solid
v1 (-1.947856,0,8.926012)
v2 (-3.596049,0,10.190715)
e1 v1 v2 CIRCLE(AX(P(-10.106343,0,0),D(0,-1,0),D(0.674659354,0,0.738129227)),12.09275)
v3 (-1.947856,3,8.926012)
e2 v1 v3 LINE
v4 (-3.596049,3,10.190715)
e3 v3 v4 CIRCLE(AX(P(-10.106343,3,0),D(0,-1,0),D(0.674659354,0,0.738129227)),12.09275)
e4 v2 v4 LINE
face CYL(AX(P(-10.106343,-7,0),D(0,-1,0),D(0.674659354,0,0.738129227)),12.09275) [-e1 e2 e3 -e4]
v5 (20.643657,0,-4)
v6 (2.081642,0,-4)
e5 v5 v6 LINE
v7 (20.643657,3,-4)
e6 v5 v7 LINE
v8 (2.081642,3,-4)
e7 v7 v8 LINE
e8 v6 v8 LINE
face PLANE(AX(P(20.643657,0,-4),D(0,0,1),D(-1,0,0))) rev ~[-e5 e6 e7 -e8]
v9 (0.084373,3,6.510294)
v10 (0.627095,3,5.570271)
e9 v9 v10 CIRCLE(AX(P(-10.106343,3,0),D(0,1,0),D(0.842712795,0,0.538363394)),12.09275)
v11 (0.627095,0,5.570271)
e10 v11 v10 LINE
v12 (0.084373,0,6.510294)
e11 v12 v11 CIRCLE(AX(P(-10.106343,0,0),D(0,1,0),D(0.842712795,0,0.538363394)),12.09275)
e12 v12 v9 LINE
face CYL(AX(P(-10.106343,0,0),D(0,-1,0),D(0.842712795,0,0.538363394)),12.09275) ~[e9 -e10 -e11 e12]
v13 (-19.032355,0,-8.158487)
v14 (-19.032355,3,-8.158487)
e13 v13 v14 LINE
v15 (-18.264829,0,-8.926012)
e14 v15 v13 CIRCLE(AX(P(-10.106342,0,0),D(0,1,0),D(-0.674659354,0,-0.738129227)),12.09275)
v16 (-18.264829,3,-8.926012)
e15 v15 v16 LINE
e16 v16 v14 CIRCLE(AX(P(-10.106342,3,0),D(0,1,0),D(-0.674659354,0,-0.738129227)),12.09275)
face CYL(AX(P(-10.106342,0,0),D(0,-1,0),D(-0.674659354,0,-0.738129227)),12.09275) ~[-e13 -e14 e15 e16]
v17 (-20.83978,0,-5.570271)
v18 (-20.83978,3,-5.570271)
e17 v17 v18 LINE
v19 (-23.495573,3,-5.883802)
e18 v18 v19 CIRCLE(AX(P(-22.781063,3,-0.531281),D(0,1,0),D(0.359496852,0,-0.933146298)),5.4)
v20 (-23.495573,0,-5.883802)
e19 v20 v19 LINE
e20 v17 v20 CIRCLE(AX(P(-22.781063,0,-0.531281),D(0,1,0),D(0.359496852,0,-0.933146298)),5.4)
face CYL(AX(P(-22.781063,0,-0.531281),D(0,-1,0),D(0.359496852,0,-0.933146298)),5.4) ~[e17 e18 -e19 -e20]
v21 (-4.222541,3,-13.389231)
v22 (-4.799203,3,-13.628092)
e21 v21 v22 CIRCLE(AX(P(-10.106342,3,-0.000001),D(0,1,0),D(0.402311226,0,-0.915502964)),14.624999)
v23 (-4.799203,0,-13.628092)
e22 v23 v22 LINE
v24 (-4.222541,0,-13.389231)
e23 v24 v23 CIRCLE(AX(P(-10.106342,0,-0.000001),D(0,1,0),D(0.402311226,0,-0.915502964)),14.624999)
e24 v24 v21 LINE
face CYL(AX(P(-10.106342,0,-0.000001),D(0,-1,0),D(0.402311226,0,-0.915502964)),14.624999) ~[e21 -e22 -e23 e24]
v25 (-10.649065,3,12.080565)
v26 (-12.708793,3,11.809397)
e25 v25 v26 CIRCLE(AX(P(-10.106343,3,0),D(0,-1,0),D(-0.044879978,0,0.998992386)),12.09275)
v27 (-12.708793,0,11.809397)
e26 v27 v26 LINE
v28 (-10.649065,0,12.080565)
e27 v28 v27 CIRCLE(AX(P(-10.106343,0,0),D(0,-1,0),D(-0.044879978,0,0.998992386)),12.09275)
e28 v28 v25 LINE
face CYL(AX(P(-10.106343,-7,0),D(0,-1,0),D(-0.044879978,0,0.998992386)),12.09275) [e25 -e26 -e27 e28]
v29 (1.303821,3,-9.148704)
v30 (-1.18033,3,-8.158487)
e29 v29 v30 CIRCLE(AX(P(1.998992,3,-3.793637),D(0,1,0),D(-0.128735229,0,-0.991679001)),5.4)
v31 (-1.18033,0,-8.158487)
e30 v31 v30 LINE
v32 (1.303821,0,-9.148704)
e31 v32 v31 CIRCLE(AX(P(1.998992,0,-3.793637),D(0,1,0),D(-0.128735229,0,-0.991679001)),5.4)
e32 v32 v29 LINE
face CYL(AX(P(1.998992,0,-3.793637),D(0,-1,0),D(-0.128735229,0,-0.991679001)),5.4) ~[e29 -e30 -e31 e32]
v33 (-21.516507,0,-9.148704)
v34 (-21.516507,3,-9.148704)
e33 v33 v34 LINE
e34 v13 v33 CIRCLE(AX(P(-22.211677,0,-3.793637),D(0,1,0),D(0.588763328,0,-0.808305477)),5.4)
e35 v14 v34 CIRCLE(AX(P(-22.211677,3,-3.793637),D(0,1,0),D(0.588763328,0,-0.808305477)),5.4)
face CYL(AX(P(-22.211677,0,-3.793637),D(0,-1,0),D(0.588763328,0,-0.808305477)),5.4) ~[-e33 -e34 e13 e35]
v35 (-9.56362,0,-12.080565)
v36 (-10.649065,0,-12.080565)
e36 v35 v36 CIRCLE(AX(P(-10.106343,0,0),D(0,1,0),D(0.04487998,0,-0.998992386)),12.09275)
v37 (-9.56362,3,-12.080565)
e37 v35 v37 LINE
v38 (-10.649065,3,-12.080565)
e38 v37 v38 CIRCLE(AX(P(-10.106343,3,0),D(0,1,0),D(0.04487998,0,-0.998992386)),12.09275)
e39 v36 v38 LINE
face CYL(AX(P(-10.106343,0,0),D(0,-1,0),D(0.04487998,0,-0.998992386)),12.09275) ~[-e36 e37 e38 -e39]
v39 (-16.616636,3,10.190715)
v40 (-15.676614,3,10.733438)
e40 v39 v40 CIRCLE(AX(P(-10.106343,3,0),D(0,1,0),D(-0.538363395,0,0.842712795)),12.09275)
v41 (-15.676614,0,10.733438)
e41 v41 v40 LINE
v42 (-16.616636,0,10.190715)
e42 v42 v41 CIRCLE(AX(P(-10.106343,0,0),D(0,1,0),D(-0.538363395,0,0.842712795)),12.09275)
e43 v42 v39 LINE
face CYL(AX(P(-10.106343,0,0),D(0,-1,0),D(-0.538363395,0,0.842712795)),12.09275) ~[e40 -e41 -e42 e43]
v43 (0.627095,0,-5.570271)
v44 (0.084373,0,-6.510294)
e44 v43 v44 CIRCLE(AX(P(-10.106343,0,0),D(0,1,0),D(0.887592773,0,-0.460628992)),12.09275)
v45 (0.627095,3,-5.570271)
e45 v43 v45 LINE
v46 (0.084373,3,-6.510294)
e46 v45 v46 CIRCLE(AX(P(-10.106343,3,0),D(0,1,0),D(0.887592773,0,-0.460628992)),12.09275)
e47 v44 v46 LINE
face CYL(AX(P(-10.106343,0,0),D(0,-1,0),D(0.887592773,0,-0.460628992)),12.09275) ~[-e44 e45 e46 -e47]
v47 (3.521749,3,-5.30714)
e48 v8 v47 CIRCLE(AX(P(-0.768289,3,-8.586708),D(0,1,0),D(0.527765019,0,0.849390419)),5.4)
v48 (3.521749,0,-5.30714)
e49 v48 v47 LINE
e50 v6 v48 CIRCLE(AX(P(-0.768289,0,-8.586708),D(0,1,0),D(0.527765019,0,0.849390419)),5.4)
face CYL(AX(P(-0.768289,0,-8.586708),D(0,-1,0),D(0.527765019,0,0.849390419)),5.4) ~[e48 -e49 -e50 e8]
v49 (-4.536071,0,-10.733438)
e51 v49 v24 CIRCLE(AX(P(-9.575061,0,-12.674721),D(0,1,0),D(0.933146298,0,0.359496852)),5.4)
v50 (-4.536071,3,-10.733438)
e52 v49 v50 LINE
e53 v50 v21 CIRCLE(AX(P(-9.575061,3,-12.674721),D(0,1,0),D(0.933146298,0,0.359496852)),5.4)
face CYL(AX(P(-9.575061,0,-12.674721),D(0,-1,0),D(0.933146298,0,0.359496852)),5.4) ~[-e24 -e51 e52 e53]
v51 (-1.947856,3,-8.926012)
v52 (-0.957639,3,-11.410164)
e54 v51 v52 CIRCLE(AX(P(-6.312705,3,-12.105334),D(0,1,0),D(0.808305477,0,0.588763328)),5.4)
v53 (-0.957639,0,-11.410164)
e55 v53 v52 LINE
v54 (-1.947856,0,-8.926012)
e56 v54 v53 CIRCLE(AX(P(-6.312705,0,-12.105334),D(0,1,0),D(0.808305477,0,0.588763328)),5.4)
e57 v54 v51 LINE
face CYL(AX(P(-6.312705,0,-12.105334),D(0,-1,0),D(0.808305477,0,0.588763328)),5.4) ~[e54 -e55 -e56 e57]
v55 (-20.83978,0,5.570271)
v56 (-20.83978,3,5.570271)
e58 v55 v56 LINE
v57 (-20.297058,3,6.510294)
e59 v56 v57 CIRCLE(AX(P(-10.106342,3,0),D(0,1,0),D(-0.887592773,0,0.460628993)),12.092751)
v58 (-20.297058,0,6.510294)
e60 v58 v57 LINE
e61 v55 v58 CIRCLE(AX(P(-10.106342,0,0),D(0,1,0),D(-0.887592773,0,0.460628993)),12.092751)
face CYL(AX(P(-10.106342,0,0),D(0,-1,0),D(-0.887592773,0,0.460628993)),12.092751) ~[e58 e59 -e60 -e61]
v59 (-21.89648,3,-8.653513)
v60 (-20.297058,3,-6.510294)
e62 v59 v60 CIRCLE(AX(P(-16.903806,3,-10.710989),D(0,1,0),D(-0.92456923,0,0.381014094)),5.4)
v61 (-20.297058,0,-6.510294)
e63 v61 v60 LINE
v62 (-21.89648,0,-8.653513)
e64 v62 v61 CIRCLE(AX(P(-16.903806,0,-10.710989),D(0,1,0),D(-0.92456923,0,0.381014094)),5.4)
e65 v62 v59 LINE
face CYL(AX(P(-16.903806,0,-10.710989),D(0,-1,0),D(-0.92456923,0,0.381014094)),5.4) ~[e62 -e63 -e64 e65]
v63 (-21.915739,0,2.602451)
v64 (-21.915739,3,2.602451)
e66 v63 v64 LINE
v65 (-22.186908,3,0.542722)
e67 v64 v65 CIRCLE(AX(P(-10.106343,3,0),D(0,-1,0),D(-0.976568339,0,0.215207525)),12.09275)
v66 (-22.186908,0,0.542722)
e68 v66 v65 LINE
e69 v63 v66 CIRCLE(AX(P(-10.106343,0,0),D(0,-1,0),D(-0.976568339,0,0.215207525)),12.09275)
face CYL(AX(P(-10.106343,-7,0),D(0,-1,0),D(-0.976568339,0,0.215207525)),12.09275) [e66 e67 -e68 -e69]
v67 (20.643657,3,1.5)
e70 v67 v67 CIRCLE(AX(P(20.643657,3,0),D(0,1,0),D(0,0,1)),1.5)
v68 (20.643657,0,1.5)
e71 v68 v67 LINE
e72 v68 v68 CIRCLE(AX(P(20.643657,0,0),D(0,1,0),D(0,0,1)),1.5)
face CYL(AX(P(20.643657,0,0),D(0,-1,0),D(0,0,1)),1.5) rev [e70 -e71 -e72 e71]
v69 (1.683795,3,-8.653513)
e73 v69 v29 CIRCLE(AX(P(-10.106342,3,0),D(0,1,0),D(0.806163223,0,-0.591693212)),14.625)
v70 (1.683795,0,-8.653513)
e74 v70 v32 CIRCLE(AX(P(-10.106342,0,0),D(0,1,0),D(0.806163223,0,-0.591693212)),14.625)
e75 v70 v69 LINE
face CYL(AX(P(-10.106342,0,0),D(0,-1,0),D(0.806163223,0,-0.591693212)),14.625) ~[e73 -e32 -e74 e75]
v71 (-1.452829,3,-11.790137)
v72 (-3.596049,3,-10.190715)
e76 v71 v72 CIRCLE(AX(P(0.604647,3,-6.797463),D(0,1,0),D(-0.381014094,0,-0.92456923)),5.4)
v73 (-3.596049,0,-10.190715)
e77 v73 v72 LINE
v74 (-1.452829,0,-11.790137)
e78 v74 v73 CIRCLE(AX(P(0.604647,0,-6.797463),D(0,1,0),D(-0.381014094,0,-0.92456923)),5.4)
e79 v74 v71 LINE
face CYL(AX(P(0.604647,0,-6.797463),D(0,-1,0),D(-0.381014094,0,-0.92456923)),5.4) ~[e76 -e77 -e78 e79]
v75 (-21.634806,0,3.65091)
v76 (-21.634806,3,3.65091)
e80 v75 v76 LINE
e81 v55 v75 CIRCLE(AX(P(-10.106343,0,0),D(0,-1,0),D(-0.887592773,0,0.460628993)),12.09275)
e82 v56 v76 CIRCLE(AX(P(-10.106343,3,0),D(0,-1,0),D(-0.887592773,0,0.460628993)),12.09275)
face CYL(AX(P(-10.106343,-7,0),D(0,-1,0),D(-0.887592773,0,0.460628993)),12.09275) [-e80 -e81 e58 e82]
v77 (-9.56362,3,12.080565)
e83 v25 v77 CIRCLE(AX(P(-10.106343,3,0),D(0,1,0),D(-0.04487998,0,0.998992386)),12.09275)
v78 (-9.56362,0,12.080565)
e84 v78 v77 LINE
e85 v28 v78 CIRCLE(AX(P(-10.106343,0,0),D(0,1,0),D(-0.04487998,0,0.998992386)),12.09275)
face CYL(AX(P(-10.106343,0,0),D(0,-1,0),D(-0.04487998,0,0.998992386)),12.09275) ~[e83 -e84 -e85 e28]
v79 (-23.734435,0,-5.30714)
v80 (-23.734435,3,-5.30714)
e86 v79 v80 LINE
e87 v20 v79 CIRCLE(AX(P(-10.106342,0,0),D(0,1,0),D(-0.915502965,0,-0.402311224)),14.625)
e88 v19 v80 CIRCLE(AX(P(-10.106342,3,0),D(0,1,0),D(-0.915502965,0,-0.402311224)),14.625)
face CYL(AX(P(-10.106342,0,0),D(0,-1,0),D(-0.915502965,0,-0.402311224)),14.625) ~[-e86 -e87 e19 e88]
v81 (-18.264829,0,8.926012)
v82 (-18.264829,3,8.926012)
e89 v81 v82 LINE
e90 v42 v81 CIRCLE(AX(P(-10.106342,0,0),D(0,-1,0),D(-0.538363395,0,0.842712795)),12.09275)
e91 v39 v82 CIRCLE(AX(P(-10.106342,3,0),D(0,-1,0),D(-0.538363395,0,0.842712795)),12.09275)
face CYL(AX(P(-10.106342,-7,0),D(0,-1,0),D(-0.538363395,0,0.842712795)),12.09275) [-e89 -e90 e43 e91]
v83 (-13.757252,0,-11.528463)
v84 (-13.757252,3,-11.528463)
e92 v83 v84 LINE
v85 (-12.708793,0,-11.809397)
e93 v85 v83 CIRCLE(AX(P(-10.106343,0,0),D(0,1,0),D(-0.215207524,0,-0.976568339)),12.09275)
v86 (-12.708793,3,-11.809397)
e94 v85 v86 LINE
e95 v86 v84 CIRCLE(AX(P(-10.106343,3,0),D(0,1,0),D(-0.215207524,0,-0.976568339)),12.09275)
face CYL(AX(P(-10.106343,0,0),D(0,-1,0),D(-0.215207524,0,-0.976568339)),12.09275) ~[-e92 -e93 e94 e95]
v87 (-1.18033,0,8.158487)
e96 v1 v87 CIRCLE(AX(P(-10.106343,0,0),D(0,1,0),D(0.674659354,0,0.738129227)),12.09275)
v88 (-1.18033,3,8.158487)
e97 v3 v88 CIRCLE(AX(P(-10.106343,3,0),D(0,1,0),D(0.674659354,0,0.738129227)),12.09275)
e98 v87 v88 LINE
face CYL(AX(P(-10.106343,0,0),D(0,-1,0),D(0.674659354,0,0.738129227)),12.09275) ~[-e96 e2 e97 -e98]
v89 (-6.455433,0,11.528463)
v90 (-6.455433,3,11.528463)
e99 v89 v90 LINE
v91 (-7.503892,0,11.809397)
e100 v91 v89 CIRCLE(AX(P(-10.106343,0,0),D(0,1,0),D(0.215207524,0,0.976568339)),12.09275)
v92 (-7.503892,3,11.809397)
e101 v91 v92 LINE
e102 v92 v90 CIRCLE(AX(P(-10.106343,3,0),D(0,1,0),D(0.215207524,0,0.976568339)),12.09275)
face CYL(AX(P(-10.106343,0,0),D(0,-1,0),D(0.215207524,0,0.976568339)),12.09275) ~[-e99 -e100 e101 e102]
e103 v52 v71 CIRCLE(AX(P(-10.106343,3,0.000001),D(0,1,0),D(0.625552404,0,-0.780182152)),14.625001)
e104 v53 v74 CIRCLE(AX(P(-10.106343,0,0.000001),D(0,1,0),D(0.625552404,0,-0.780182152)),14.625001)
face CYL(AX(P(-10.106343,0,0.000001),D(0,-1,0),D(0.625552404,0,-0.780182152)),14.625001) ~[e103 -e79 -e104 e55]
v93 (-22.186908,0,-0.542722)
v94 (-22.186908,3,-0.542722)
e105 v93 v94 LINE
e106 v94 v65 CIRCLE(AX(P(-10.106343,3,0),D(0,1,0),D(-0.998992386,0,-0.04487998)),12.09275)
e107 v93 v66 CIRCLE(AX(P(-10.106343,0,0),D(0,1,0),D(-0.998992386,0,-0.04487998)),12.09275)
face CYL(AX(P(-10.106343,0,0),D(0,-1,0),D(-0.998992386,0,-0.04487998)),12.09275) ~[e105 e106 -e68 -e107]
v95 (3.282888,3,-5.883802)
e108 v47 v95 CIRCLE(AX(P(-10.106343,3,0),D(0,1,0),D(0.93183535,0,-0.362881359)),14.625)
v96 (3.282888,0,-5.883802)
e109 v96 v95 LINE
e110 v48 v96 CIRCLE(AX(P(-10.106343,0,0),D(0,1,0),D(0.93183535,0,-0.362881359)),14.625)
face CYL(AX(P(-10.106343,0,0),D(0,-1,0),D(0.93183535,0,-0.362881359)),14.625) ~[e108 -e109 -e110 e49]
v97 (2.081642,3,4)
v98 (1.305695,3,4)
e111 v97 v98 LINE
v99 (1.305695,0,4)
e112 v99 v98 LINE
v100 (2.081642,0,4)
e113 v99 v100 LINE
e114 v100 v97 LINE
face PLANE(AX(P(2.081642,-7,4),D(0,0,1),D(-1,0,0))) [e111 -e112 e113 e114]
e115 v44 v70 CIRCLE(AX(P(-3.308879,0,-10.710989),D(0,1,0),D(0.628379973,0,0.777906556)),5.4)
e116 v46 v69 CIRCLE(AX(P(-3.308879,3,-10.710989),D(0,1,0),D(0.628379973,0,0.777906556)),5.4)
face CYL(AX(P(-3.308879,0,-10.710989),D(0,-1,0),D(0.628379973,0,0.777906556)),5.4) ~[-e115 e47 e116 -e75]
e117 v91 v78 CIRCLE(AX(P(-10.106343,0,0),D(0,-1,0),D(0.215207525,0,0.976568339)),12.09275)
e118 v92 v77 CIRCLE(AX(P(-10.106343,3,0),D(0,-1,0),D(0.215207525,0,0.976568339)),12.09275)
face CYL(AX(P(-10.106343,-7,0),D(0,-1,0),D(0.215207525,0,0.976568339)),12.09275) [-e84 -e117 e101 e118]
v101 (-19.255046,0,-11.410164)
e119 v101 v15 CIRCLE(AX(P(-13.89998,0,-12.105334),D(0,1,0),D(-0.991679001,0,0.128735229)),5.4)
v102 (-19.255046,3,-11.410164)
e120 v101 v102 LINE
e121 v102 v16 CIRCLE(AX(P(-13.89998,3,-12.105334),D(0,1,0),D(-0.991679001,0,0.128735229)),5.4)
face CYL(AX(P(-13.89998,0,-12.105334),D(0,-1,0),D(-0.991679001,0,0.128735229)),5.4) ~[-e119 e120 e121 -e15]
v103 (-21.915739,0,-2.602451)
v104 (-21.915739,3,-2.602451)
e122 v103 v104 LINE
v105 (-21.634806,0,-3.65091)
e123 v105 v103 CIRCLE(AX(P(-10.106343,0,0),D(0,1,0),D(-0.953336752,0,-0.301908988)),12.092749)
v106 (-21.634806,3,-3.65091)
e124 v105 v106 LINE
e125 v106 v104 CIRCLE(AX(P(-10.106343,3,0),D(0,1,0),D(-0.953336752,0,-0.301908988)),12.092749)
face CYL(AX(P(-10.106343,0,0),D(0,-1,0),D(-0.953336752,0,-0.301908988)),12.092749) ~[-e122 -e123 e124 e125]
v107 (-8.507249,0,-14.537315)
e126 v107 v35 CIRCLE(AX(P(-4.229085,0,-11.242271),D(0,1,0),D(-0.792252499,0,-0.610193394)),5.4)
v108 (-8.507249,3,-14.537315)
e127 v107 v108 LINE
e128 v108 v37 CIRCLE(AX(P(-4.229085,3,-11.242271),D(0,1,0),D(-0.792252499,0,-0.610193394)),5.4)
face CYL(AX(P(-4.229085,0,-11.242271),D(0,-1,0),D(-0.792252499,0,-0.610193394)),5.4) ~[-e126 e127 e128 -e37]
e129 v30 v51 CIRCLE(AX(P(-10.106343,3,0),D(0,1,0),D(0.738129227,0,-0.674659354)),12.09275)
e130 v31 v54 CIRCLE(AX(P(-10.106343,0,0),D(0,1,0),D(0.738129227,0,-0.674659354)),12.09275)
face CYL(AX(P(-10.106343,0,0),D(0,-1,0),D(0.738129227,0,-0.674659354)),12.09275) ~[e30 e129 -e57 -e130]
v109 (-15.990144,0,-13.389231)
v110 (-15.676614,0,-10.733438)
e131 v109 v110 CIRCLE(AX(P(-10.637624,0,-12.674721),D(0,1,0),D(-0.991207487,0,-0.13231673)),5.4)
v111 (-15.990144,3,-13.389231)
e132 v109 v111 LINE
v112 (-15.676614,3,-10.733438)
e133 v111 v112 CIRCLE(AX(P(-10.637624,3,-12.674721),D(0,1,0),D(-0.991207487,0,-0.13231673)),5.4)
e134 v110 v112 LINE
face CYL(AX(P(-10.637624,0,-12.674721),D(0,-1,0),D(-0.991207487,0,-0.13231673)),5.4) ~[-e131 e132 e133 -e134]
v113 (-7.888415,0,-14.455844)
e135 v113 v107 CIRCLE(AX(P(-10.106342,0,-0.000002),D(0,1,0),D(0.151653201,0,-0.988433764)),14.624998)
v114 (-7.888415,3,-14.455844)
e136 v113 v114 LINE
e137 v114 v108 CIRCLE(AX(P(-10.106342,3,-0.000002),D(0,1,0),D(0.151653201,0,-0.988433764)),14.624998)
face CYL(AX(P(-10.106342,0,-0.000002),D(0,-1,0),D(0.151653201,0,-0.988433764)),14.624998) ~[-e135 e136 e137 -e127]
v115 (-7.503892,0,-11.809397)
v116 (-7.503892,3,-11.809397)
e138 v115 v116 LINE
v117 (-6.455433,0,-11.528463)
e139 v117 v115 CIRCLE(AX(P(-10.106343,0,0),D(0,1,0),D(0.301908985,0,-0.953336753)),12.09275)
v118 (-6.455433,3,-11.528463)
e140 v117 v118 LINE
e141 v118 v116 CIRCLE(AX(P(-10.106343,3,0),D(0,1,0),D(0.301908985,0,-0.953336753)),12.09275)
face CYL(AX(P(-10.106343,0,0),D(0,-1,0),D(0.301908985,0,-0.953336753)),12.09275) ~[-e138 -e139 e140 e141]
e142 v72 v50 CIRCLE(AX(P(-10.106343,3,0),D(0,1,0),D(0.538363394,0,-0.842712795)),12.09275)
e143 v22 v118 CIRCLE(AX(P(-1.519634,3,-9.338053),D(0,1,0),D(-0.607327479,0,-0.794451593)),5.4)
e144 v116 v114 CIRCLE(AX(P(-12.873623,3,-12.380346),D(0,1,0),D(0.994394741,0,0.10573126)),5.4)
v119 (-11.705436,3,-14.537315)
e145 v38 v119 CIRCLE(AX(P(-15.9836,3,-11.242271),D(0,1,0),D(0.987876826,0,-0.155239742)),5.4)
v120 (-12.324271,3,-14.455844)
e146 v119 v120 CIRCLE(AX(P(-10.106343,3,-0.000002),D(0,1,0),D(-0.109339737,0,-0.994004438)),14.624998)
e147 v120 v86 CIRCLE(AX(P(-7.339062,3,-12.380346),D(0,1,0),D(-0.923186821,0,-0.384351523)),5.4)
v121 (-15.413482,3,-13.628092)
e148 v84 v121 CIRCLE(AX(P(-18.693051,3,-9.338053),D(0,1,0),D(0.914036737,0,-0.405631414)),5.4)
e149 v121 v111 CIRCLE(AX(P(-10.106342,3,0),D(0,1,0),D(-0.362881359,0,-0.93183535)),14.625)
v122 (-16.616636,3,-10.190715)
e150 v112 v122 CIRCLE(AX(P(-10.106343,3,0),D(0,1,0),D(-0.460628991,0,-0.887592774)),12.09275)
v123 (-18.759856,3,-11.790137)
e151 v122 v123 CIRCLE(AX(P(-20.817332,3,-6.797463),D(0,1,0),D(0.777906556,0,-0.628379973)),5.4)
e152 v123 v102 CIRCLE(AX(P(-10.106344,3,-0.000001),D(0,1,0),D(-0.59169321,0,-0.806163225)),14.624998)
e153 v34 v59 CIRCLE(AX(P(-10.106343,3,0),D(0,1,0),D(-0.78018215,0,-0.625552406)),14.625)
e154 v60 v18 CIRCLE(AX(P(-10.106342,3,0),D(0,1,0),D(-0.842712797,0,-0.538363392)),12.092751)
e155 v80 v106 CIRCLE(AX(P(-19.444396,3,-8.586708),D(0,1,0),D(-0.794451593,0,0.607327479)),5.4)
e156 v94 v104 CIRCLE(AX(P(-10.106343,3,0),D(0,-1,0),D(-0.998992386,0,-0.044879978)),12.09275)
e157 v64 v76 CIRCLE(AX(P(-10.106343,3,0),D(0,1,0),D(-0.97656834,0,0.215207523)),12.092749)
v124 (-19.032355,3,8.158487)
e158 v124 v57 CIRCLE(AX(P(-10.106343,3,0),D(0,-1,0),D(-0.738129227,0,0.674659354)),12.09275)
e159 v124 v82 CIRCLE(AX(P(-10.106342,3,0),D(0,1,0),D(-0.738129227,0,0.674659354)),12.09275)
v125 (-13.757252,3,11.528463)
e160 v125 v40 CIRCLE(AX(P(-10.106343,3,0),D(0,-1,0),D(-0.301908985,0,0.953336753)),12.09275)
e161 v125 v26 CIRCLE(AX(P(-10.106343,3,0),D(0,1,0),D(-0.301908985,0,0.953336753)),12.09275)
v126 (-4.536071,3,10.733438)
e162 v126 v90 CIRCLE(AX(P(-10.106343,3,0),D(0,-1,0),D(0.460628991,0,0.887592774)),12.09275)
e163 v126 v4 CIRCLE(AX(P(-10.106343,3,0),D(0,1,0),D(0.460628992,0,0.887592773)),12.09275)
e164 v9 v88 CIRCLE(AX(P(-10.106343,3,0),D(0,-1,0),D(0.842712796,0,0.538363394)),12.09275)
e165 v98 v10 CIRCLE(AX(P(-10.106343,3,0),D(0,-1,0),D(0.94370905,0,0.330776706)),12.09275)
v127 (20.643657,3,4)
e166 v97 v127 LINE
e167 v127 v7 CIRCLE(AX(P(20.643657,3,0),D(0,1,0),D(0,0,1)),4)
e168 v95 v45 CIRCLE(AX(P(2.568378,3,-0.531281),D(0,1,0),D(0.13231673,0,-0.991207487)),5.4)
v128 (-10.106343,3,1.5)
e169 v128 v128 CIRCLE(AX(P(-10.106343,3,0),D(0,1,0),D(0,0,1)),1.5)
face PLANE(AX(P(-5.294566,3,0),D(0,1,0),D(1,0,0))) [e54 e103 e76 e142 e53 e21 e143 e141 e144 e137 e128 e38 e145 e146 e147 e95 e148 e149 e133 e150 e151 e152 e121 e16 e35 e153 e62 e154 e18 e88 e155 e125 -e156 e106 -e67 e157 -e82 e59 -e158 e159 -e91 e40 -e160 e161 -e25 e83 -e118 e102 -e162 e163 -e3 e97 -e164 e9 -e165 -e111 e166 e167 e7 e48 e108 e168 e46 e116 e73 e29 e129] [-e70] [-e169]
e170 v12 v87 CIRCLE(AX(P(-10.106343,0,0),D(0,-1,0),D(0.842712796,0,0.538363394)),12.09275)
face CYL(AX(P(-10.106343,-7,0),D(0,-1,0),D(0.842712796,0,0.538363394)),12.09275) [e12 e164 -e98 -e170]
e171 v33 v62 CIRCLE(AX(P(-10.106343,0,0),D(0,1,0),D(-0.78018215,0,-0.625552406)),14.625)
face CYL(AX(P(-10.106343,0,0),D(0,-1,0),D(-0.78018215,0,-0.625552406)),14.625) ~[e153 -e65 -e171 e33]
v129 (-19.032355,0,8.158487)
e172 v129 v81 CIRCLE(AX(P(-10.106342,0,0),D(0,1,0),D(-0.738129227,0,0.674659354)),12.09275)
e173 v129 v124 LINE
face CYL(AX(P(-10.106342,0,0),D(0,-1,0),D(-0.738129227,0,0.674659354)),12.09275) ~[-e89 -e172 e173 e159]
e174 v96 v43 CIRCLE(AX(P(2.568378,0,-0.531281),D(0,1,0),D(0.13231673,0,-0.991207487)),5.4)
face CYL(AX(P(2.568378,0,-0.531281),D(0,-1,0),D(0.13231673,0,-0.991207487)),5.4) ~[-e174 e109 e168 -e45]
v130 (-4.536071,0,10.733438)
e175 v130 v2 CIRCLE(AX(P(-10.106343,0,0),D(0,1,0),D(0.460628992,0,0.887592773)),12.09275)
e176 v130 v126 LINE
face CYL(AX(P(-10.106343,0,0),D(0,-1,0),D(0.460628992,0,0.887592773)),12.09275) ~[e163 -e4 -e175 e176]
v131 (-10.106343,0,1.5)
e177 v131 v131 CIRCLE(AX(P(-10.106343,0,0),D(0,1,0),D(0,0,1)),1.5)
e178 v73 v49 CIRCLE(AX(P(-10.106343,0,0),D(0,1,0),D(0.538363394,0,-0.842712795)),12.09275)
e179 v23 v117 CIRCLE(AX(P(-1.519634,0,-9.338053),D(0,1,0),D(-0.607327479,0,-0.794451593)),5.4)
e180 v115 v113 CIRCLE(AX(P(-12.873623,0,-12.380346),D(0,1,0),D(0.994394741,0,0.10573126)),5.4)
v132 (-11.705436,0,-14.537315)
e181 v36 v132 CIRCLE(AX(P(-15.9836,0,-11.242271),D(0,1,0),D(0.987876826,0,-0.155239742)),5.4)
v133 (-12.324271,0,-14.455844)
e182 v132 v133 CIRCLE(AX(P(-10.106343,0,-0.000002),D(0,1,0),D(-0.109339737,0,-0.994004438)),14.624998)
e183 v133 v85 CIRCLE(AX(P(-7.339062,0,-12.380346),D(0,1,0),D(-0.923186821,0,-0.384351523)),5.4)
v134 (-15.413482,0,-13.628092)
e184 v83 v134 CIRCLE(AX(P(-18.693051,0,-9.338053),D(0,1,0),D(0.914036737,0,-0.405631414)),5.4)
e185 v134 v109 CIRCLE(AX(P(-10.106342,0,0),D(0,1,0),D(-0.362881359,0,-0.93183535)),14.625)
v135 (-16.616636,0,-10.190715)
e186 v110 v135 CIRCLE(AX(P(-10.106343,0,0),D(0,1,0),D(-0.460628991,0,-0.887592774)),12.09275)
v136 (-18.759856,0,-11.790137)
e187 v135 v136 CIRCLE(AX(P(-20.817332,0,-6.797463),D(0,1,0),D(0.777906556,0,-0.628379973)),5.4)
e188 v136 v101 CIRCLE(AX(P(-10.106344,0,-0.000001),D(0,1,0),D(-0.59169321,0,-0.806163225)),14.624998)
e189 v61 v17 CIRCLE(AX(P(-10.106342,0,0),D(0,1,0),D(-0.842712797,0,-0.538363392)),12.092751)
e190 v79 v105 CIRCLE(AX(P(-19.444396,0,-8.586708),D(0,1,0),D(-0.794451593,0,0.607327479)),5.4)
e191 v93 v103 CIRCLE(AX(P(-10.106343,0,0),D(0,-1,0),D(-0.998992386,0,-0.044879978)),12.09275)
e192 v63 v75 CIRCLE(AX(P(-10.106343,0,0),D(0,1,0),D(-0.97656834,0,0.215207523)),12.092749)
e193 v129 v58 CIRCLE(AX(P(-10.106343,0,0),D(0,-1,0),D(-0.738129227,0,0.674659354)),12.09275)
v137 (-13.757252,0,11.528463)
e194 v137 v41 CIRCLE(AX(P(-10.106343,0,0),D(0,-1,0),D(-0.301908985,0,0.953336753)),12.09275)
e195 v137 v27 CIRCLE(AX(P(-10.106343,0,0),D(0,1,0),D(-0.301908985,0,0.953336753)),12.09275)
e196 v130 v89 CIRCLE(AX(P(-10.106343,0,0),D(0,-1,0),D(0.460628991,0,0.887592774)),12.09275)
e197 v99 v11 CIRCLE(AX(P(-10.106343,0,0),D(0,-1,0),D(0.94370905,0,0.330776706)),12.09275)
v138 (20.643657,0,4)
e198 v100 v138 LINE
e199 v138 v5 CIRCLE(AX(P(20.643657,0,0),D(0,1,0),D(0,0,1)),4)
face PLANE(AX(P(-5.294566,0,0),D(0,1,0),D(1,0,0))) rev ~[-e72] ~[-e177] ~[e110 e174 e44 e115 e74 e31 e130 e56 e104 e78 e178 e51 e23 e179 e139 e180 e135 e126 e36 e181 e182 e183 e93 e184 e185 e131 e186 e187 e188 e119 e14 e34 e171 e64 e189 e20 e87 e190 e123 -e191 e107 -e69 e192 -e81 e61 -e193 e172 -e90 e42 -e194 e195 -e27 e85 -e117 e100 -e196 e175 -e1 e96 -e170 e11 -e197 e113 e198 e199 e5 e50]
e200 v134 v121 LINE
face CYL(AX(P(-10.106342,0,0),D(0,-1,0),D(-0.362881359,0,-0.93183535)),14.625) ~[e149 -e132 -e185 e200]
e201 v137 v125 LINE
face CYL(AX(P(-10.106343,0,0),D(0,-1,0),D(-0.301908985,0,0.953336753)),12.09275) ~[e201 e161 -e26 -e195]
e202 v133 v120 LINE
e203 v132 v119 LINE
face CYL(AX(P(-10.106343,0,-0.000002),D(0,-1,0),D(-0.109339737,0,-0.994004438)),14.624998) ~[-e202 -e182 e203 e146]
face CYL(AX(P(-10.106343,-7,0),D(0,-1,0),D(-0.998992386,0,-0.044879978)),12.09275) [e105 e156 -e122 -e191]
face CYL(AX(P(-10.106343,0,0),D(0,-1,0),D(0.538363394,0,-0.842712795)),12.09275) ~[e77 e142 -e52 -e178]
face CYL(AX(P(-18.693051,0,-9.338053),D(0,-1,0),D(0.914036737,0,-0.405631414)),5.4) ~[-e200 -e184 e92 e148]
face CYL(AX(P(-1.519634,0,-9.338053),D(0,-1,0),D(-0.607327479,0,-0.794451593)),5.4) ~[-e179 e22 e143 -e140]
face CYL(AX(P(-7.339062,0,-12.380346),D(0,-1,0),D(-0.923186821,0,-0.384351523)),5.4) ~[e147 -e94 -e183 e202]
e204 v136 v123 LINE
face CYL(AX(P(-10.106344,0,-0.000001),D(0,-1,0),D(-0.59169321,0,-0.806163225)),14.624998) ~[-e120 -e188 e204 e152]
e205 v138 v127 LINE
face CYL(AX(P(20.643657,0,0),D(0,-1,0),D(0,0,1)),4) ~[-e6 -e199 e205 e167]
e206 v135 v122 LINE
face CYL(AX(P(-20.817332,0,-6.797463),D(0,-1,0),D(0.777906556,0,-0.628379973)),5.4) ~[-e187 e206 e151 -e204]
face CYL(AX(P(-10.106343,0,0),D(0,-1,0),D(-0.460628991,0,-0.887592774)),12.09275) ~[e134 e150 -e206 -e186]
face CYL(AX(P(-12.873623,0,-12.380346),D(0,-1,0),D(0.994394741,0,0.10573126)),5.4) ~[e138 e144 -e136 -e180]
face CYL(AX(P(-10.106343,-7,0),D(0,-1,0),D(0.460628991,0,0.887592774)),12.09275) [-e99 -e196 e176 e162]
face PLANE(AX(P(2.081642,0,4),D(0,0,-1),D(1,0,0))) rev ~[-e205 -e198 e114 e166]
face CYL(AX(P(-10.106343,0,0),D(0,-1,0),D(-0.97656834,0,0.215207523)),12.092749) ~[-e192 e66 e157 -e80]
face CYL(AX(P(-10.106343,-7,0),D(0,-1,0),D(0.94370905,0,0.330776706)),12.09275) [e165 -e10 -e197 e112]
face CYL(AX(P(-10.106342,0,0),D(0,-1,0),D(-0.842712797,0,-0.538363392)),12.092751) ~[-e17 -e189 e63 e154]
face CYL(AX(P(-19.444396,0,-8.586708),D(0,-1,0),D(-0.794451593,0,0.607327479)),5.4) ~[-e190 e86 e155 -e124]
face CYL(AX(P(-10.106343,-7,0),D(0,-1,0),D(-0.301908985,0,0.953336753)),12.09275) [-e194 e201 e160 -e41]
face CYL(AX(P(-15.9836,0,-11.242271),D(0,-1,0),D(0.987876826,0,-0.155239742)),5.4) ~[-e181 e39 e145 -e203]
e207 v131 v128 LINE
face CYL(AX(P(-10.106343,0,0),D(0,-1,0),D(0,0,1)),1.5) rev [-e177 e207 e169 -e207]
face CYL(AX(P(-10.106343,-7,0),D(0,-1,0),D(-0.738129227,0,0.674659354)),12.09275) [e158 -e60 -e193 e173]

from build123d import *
from build123d.topology import SkipClean

# Parameters (mm, degrees)
SKETCH1_R           = 1.5
BOSS_EXTRUDE1_DEPTH = 3
CUT_EXTRUDE1_START  = -10
CUT_EXTRUDE1_DEPTH  = 10


with BuildPart() as part:
    # Sketch1 → Boss-Extrude1 (new body)
    with BuildSketch(Plane(origin=(0, 0, 0), x_dir=(1, 0, 0), z_dir=(0, 1, 0))):
        with BuildLine():
            Line((20.643657446, 4), (2.081641936, 4))
            ThreePointArc((2.081641936, 4), (2.861028333, 4.588201733), (3.521749436, 5.30713988))
            ThreePointArc((3.521749436, 5.30713988), (3.405395609, 5.596745198), (3.282888305, 5.883801663))
            ThreePointArc((3.282888305, 5.883801663), (1.93527598, 5.894040025), (0.627094961, 5.57027124))
            ThreePointArc((0.627094961, 5.57027124), (0.366286148, 6.046375), (0.084372603, 6.510293938))
            ThreePointArc((0.084372603, 6.510293938), (1.018855105, 7.48132754), (1.683794586, 8.65351323))
            ThreePointArc((1.683794586, 8.65351323), (1.496450048, 8.903135899), (1.303821399, 9.148703928))
            ThreePointArc((1.303821399, 9.148703928), (-0.000522033, 8.809805691), (-1.180330337, 8.158486898))
            ThreePointArc((-1.180330337, 8.158486898), (-1.555477026, 8.550865528), (-1.947855656, 8.926012217))
            ThreePointArc((-1.947855656, 8.926012217), (-1.296536862, 10.105820521), (-0.957638625, 11.410163953))
            ThreePointArc((-0.957638625, 11.410163953), (-1.203206655, 11.602792602), (-1.452829324, 11.79013714))
            ThreePointArc((-1.452829324, 11.79013714), (-2.625015014, 11.125197659), (-3.596048616, 10.190715157))
            ThreePointArc((-3.596048616, 10.190715157), (-4.059967554, 10.472628702), (-4.536071314, 10.733437515))
            ThreePointArc((-4.536071314, 10.733437515), (-4.212302529, 12.041618533), (-4.222540891, 13.389230859))
            ThreePointArc((-4.222540891, 13.389230859), (-4.509597355, 13.511738163), (-4.799202674, 13.62809199))
            ThreePointArc((-4.799202674, 13.62809199), (-5.759348103, 12.682425791), (-6.455432668, 11.528463019))
            ThreePointArc((-6.455432668, 11.528463019), (-6.976508546, 11.680699536), (-7.503891752, 11.809396783))
            ThreePointArc((-7.503891752, 11.809396783), (-7.529737283, 13.156800143), (-7.888414517, 14.455843809))
            ThreePointArc((-7.888414517, 14.455843809), (-8.197396993, 14.499881098), (-8.507248835, 14.537314892))
            ThreePointArc((-8.507248835, 14.537314892), (-9.18992168, 13.375367565), (-9.563620196, 12.080565177))
            ThreePointArc((-9.563620196, 12.080565177), (-10.106342554, 12.09275), (-10.649064912, 12.080565177))
            ThreePointArc((-10.649064912, 12.080565177), (-11.022763428, 13.375367565), (-11.705436272, 14.537314892))
            ThreePointArc((-11.705436272, 14.537314892), (-12.015288115, 14.499881098), (-12.324270591, 14.455843809))
            ThreePointArc((-12.324270591, 14.455843809), (-12.682947825, 13.156800143), (-12.708793355, 11.809396783))
            ThreePointArc((-12.708793355, 11.809396783), (-13.236176561, 11.680699536), (-13.757252439, 11.528463019))
            ThreePointArc((-13.757252439, 11.528463019), (-14.453337005, 12.682425791), (-15.413482434, 13.62809199))
            ThreePointArc((-15.413482434, 13.62809199), (-15.703087752, 13.511738163), (-15.990144217, 13.389230859))
            ThreePointArc((-15.990144217, 13.389230859), (-16.000382579, 12.041618533), (-15.676613793, 10.733437515))
            ThreePointArc((-15.676613793, 10.733437515), (-16.152717554, 10.472628702), (-16.616636492, 10.190715157))
            ThreePointArc((-16.616636492, 10.190715157), (-17.587670094, 11.125197659), (-18.759855783, 11.79013714))
            ThreePointArc((-18.759855783, 11.79013714), (-19.009478453, 11.602792602), (-19.255046482, 11.410163953))
            ThreePointArc((-19.255046482, 11.410163953), (-18.916148245, 10.105820521), (-18.264829452, 8.926012217))
            ThreePointArc((-18.264829452, 8.926012217), (-18.657208082, 8.550865528), (-19.032354771, 8.158486898))
            ThreePointArc((-19.032354771, 8.158486898), (-20.212163074, 8.809805691), (-21.516506507, 9.148703928))
            ThreePointArc((-21.516506507, 9.148703928), (-21.709135156, 8.903135899), (-21.896479694, 8.65351323))
            ThreePointArc((-21.896479694, 8.65351323), (-21.231540213, 7.48132754), (-20.297057711, 6.510293938))
            ThreePointArc((-20.297057711, 6.510293938), (-20.578971255, 6.046375), (-20.839780068, 5.57027124))
            ThreePointArc((-20.839780068, 5.57027124), (-22.147961087, 5.894040025), (-23.495573413, 5.883801663))
            ThreePointArc((-23.495573413, 5.883801663), (-23.618080717, 5.596745198), (-23.734434544, 5.30713988))
            ThreePointArc((-23.734434544, 5.30713988), (-22.788768345, 4.346994451), (-21.634805572, 3.650909885))
            ThreePointArc((-21.634805572, 3.650909885), (-21.78704209, 3.129834008), (-21.915739337, 2.602450802))
            ThreePointArc((-21.915739337, 2.602450802), (-23.263142697, 2.576605271), (-24.562186363, 2.217928037))
            ThreePointArc((-24.562186363, 2.217928037), (-24.606223651, 1.908945561), (-24.643657446, 1.599093719))
            ThreePointArc((-24.643657446, 1.599093719), (-23.481710119, 0.916420874), (-22.186907731, 0.542722358))
            ThreePointArc((-22.186907731, 0.542722358), (-22.199092554, 0), (-22.186907731, -0.542722358))
            ThreePointArc((-22.186907731, -0.542722358), (-23.481710119, -0.916420874), (-24.643657446, -1.599093719))
            ThreePointArc((-24.643657446, -1.599093719), (-24.606223651, -1.908945561), (-24.562186363, -2.217928037))
            ThreePointArc((-24.562186363, -2.217928037), (-23.263142697, -2.576605271), (-21.915739337, -2.602450802))
            ThreePointArc((-21.915739337, -2.602450802), (-21.78704209, -3.129834008), (-21.634805572, -3.650909885))
            ThreePointArc((-21.634805572, -3.650909885), (-22.788768345, -4.346994451), (-23.734434544, -5.30713988))
            ThreePointArc((-23.734434544, -5.30713988), (-23.618080717, -5.596745198), (-23.495573413, -5.883801663))
            ThreePointArc((-23.495573413, -5.883801663), (-22.147961087, -5.894040025), (-20.839780068, -5.57027124))
            ThreePointArc((-20.839780068, -5.57027124), (-20.578971255, -6.046375), (-20.297057711, -6.510293938))
            ThreePointArc((-20.297057711, -6.510293938), (-21.231540213, -7.48132754), (-21.896479694, -8.65351323))
            ThreePointArc((-21.896479694, -8.65351323), (-21.709135156, -8.903135899), (-21.516506507, -9.148703928))
            ThreePointArc((-21.516506507, -9.148703928), (-20.212163074, -8.809805691), (-19.032354771, -8.158486898))
            ThreePointArc((-19.032354771, -8.158486898), (-18.657208082, -8.550865528), (-18.264829452, -8.926012217))
            ThreePointArc((-18.264829452, -8.926012217), (-18.916148245, -10.105820521), (-19.255046482, -11.410163953))
            ThreePointArc((-19.255046482, -11.410163953), (-19.009478453, -11.602792602), (-18.759855783, -11.79013714))
            ThreePointArc((-18.759855783, -11.79013714), (-17.587670094, -11.125197659), (-16.616636492, -10.190715157))
            ThreePointArc((-16.616636492, -10.190715157), (-16.152717554, -10.472628702), (-15.676613793, -10.733437515))
            ThreePointArc((-15.676613793, -10.733437515), (-16.000382579, -12.041618533), (-15.990144217, -13.389230859))
            ThreePointArc((-15.990144217, -13.389230859), (-15.703087752, -13.511738163), (-15.413482434, -13.62809199))
            ThreePointArc((-15.413482434, -13.62809199), (-14.453337005, -12.682425791), (-13.757252439, -11.528463019))
            ThreePointArc((-13.757252439, -11.528463019), (-13.236176561, -11.680699536), (-12.708793355, -11.809396783))
            ThreePointArc((-12.708793355, -11.809396783), (-12.682947825, -13.156800143), (-12.324270591, -14.455843809))
            ThreePointArc((-12.324270591, -14.455843809), (-12.015288115, -14.499881098), (-11.705436272, -14.537314892))
            ThreePointArc((-11.705436272, -14.537314892), (-11.022763428, -13.375367565), (-10.649064912, -12.080565177))
            ThreePointArc((-10.649064912, -12.080565177), (-10.106342554, -12.09275), (-9.563620196, -12.080565177))
            ThreePointArc((-9.563620196, -12.080565177), (-9.18992168, -13.375367565), (-8.507248835, -14.537314892))
            ThreePointArc((-8.507248835, -14.537314892), (-8.197396993, -14.499881098), (-7.888414517, -14.455843809))
            ThreePointArc((-7.888414517, -14.455843809), (-7.529737283, -13.156800143), (-7.503891752, -11.809396783))
            ThreePointArc((-7.503891752, -11.809396783), (-6.976508546, -11.680699536), (-6.455432668, -11.528463019))
            ThreePointArc((-6.455432668, -11.528463019), (-5.759348103, -12.682425791), (-4.799202674, -13.62809199))
            ThreePointArc((-4.799202674, -13.62809199), (-4.509597355, -13.511738163), (-4.222540891, -13.389230859))
            ThreePointArc((-4.222540891, -13.389230859), (-4.212302529, -12.041618533), (-4.536071314, -10.733437515))
            ThreePointArc((-4.536071314, -10.733437515), (-4.059967554, -10.472628702), (-3.596048616, -10.190715157))
            ThreePointArc((-3.596048616, -10.190715157), (-2.625015014, -11.125197659), (-1.452829324, -11.79013714))
            ThreePointArc((-1.452829324, -11.79013714), (-1.203206655, -11.602792602), (-0.957638625, -11.410163953))
            ThreePointArc((-0.957638625, -11.410163953), (-1.296536862, -10.105820521), (-1.947855656, -8.926012217))
            ThreePointArc((-1.947855656, -8.926012217), (-1.555477026, -8.550865528), (-1.180330337, -8.158486898))
            ThreePointArc((-1.180330337, -8.158486898), (-0.000522033, -8.809805691), (1.303821399, -9.148703928))
            ThreePointArc((1.303821399, -9.148703928), (1.496450048, -8.903135899), (1.683794586, -8.65351323))
            ThreePointArc((1.683794586, -8.65351323), (1.018855105, -7.48132754), (0.084372603, -6.510293938))
            ThreePointArc((0.084372603, -6.510293938), (0.366286148, -6.046375), (0.627094961, -5.57027124))
            ThreePointArc((0.627094961, -5.57027124), (1.93527598, -5.894040025), (3.282888305, -5.883801663))
            ThreePointArc((3.282888305, -5.883801663), (3.405395609, -5.596745198), (3.521749436, -5.30713988))
            ThreePointArc((3.521749436, -5.30713988), (2.861028333, -4.588201733), (2.081641936, -4))
            Line((2.081641936, -4), (20.643657446, -4))
            ThreePointArc((20.643657446, -4), (24.643657446, 0), (20.643657446, 4))
        make_face()
        with Locations(Location((-10.106342554, 0, 0), (0, 0, 270))):
            Circle(SKETCH1_R, mode=Mode.SUBTRACT)
        with Locations(Location((20.643657446, 0, 0), (0, 0, 270))):
            Circle(SKETCH1_R, mode=Mode.SUBTRACT)
    extrude(amount=BOSS_EXTRUDE1_DEPTH)

    # Sketch2 → Cut-Extrude1 (cut)
    with SkipClean():  # the faces are left unmerged after this step: merging them gives an invalid solid
        with BuildSketch(Plane(origin=(0, 3, 0), x_dir=(1, 0, 0), z_dir=(0, 1, 0)).offset(CUT_EXTRUDE1_START)):
            with BuildLine():
                ThreePointArc((-24.562186363, -2.217928037), (-23.263142697, -2.576605271), (-21.915739337, -2.602450802))
                ThreePointArc((-21.915739337, -2.602450802), (-22.095637401, -1.578420611), (-22.186907731, -0.542722358))
                ThreePointArc((-22.186907731, -0.542722358), (-23.481710119, -0.916420874), (-24.643657446, -1.599093719))
                ThreePointArc((-24.643657446, -1.599093719), (-24.606223651, -1.908945561), (-24.562186363, -2.217928037))
            make_face()
            with BuildLine():
                ThreePointArc((-23.495573413, -5.883801663), (-22.147961087, -5.894040025), (-20.839780068, -5.57027124))
                ThreePointArc((-20.839780068, -5.57027124), (-21.278586771, -4.627695077), (-21.634805572, -3.650909885))
                ThreePointArc((-21.634805572, -3.650909885), (-22.788768345, -4.346994451), (-23.734434544, -5.30713988))
                ThreePointArc((-23.734434544, -5.30713988), (-23.618080717, -5.596745198), (-23.495573413, -5.883801663))
            make_face()
            with BuildLine():
                ThreePointArc((-21.516506507, -9.148703928), (-20.212163074, -8.809805691), (-19.032354771, -8.158486898))
                ThreePointArc((-19.032354771, -8.158486898), (-19.70016616, -7.361599771), (-20.297057711, -6.510293938))
                ThreePointArc((-20.297057711, -6.510293938), (-21.231540213, -7.48132754), (-21.896479694, -8.65351323))
                ThreePointArc((-21.896479694, -8.65351323), (-21.709135156, -8.903135899), (-21.516506507, -9.148703928))
            make_face()
            with BuildLine():
                ThreePointArc((-18.759855783, -11.79013714), (-17.587670094, -11.125197659), (-16.616636492, -10.190715157))
                ThreePointArc((-16.616636492, -10.190715157), (-17.467942324, -9.593823606), (-18.264829452, -8.926012217))
                ThreePointArc((-18.264829452, -8.926012217), (-18.916148245, -10.105820521), (-19.255046482, -11.410163953))
                ThreePointArc((-19.255046482, -11.410163953), (-19.009478453, -11.602792602), (-18.759855783, -11.79013714))
            make_face()
            with BuildLine():
                ThreePointArc((-15.413482434, -13.62809199), (-14.453337005, -12.682425791), (-13.757252439, -11.528463019))
                ThreePointArc((-13.757252439, -11.528463019), (-14.734037631, -11.172244217), (-15.676613793, -10.733437515))
                ThreePointArc((-15.676613793, -10.733437515), (-16.000382579, -12.041618533), (-15.990144217, -13.389230859))
                ThreePointArc((-15.990144217, -13.389230859), (-15.703087752, -13.511738163), (-15.413482434, -13.62809199))
            make_face()
            with BuildLine():
                ThreePointArc((-11.705436272, -14.537314892), (-11.022763428, -13.375367565), (-10.649064912, -12.080565177))
                ThreePointArc((-10.649064912, -12.080565177), (-11.684763165, -11.989294847), (-12.708793355, -11.809396783))
                ThreePointArc((-12.708793355, -11.809396783), (-12.682947825, -13.156800143), (-12.324270591, -14.455843809))
                ThreePointArc((-12.324270591, -14.455843809), (-12.015288115, -14.499881098), (-11.705436272, -14.537314892))
            make_face()
            with BuildLine():
                ThreePointArc((-7.888414517, -14.455843809), (-7.529737283, -13.156800143), (-7.503891752, -11.809396783))
                ThreePointArc((-7.503891752, -11.809396783), (-8.527921943, -11.989294847), (-9.563620196, -12.080565177))
                ThreePointArc((-9.563620196, -12.080565177), (-9.18992168, -13.375367565), (-8.507248835, -14.537314892))
                ThreePointArc((-8.507248835, -14.537314892), (-8.197396993, -14.499881098), (-7.888414517, -14.455843809))
            make_face()
            with BuildLine():
                ThreePointArc((-4.222540891, -13.389230859), (-4.212302529, -12.041618533), (-4.536071314, -10.733437515))
                ThreePointArc((-4.536071314, -10.733437515), (-5.478647477, -11.172244217), (-6.455432668, -11.528463019))
                ThreePointArc((-6.455432668, -11.528463019), (-5.759348103, -12.682425791), (-4.799202674, -13.62809199))
                ThreePointArc((-4.799202674, -13.62809199), (-4.509597355, -13.511738163), (-4.222540891, -13.389230859))
            make_face()
            with BuildLine():
                ThreePointArc((-0.957638625, -11.410163953), (-1.296536862, -10.105820521), (-1.947855656, -8.926012217))
                ThreePointArc((-1.947855656, -8.926012217), (-2.744742783, -9.593823606), (-3.596048616, -10.190715157))
                ThreePointArc((-3.596048616, -10.190715157), (-2.625015014, -11.125197659), (-1.452829324, -11.79013714))
                ThreePointArc((-1.452829324, -11.79013714), (-1.203206655, -11.602792602), (-0.957638625, -11.410163953))
            make_face()
            with BuildLine():
                ThreePointArc((1.683794586, -8.65351323), (1.018855105, -7.48132754), (0.084372603, -6.510293938))
                ThreePointArc((0.084372603, -6.510293938), (-0.512518948, -7.361599771), (-1.180330337, -8.158486898))
                ThreePointArc((-1.180330337, -8.158486898), (-0.000522033, -8.809805691), (1.303821399, -9.148703928))
                ThreePointArc((1.303821399, -9.148703928), (1.496450048, -8.903135899), (1.683794586, -8.65351323))
            make_face()
            with BuildLine():
                ThreePointArc((3.521749436, -5.30713988), (2.861028333, -4.588201733), (2.081641936, -4))
                Line((2.081641936, -4), (1.305695063, -4))
                ThreePointArc((1.305695063, -4), (0.994195953, -4.797149927), (0.627094961, -5.57027124))
                ThreePointArc((0.627094961, -5.57027124), (1.93527598, -5.894040025), (3.282888305, -5.883801663))
                ThreePointArc((3.282888305, -5.883801663), (3.405395609, -5.596745198), (3.521749436, -5.30713988))
            make_face()
            with BuildLine():
                ThreePointArc((-22.186907731, 0.542722358), (-22.095637401, 1.578420611), (-21.915739337, 2.602450802))
                ThreePointArc((-21.915739337, 2.602450802), (-23.263142697, 2.576605271), (-24.562186363, 2.217928037))
                ThreePointArc((-24.562186363, 2.217928037), (-24.606223651, 1.908945561), (-24.643657446, 1.599093719))
                ThreePointArc((-24.643657446, 1.599093719), (-23.481710119, 0.916420874), (-22.186907731, 0.542722358))
            make_face()
        extrude(amount=CUT_EXTRUDE1_DEPTH, mode=Mode.SUBTRACT)


solid = part.part
